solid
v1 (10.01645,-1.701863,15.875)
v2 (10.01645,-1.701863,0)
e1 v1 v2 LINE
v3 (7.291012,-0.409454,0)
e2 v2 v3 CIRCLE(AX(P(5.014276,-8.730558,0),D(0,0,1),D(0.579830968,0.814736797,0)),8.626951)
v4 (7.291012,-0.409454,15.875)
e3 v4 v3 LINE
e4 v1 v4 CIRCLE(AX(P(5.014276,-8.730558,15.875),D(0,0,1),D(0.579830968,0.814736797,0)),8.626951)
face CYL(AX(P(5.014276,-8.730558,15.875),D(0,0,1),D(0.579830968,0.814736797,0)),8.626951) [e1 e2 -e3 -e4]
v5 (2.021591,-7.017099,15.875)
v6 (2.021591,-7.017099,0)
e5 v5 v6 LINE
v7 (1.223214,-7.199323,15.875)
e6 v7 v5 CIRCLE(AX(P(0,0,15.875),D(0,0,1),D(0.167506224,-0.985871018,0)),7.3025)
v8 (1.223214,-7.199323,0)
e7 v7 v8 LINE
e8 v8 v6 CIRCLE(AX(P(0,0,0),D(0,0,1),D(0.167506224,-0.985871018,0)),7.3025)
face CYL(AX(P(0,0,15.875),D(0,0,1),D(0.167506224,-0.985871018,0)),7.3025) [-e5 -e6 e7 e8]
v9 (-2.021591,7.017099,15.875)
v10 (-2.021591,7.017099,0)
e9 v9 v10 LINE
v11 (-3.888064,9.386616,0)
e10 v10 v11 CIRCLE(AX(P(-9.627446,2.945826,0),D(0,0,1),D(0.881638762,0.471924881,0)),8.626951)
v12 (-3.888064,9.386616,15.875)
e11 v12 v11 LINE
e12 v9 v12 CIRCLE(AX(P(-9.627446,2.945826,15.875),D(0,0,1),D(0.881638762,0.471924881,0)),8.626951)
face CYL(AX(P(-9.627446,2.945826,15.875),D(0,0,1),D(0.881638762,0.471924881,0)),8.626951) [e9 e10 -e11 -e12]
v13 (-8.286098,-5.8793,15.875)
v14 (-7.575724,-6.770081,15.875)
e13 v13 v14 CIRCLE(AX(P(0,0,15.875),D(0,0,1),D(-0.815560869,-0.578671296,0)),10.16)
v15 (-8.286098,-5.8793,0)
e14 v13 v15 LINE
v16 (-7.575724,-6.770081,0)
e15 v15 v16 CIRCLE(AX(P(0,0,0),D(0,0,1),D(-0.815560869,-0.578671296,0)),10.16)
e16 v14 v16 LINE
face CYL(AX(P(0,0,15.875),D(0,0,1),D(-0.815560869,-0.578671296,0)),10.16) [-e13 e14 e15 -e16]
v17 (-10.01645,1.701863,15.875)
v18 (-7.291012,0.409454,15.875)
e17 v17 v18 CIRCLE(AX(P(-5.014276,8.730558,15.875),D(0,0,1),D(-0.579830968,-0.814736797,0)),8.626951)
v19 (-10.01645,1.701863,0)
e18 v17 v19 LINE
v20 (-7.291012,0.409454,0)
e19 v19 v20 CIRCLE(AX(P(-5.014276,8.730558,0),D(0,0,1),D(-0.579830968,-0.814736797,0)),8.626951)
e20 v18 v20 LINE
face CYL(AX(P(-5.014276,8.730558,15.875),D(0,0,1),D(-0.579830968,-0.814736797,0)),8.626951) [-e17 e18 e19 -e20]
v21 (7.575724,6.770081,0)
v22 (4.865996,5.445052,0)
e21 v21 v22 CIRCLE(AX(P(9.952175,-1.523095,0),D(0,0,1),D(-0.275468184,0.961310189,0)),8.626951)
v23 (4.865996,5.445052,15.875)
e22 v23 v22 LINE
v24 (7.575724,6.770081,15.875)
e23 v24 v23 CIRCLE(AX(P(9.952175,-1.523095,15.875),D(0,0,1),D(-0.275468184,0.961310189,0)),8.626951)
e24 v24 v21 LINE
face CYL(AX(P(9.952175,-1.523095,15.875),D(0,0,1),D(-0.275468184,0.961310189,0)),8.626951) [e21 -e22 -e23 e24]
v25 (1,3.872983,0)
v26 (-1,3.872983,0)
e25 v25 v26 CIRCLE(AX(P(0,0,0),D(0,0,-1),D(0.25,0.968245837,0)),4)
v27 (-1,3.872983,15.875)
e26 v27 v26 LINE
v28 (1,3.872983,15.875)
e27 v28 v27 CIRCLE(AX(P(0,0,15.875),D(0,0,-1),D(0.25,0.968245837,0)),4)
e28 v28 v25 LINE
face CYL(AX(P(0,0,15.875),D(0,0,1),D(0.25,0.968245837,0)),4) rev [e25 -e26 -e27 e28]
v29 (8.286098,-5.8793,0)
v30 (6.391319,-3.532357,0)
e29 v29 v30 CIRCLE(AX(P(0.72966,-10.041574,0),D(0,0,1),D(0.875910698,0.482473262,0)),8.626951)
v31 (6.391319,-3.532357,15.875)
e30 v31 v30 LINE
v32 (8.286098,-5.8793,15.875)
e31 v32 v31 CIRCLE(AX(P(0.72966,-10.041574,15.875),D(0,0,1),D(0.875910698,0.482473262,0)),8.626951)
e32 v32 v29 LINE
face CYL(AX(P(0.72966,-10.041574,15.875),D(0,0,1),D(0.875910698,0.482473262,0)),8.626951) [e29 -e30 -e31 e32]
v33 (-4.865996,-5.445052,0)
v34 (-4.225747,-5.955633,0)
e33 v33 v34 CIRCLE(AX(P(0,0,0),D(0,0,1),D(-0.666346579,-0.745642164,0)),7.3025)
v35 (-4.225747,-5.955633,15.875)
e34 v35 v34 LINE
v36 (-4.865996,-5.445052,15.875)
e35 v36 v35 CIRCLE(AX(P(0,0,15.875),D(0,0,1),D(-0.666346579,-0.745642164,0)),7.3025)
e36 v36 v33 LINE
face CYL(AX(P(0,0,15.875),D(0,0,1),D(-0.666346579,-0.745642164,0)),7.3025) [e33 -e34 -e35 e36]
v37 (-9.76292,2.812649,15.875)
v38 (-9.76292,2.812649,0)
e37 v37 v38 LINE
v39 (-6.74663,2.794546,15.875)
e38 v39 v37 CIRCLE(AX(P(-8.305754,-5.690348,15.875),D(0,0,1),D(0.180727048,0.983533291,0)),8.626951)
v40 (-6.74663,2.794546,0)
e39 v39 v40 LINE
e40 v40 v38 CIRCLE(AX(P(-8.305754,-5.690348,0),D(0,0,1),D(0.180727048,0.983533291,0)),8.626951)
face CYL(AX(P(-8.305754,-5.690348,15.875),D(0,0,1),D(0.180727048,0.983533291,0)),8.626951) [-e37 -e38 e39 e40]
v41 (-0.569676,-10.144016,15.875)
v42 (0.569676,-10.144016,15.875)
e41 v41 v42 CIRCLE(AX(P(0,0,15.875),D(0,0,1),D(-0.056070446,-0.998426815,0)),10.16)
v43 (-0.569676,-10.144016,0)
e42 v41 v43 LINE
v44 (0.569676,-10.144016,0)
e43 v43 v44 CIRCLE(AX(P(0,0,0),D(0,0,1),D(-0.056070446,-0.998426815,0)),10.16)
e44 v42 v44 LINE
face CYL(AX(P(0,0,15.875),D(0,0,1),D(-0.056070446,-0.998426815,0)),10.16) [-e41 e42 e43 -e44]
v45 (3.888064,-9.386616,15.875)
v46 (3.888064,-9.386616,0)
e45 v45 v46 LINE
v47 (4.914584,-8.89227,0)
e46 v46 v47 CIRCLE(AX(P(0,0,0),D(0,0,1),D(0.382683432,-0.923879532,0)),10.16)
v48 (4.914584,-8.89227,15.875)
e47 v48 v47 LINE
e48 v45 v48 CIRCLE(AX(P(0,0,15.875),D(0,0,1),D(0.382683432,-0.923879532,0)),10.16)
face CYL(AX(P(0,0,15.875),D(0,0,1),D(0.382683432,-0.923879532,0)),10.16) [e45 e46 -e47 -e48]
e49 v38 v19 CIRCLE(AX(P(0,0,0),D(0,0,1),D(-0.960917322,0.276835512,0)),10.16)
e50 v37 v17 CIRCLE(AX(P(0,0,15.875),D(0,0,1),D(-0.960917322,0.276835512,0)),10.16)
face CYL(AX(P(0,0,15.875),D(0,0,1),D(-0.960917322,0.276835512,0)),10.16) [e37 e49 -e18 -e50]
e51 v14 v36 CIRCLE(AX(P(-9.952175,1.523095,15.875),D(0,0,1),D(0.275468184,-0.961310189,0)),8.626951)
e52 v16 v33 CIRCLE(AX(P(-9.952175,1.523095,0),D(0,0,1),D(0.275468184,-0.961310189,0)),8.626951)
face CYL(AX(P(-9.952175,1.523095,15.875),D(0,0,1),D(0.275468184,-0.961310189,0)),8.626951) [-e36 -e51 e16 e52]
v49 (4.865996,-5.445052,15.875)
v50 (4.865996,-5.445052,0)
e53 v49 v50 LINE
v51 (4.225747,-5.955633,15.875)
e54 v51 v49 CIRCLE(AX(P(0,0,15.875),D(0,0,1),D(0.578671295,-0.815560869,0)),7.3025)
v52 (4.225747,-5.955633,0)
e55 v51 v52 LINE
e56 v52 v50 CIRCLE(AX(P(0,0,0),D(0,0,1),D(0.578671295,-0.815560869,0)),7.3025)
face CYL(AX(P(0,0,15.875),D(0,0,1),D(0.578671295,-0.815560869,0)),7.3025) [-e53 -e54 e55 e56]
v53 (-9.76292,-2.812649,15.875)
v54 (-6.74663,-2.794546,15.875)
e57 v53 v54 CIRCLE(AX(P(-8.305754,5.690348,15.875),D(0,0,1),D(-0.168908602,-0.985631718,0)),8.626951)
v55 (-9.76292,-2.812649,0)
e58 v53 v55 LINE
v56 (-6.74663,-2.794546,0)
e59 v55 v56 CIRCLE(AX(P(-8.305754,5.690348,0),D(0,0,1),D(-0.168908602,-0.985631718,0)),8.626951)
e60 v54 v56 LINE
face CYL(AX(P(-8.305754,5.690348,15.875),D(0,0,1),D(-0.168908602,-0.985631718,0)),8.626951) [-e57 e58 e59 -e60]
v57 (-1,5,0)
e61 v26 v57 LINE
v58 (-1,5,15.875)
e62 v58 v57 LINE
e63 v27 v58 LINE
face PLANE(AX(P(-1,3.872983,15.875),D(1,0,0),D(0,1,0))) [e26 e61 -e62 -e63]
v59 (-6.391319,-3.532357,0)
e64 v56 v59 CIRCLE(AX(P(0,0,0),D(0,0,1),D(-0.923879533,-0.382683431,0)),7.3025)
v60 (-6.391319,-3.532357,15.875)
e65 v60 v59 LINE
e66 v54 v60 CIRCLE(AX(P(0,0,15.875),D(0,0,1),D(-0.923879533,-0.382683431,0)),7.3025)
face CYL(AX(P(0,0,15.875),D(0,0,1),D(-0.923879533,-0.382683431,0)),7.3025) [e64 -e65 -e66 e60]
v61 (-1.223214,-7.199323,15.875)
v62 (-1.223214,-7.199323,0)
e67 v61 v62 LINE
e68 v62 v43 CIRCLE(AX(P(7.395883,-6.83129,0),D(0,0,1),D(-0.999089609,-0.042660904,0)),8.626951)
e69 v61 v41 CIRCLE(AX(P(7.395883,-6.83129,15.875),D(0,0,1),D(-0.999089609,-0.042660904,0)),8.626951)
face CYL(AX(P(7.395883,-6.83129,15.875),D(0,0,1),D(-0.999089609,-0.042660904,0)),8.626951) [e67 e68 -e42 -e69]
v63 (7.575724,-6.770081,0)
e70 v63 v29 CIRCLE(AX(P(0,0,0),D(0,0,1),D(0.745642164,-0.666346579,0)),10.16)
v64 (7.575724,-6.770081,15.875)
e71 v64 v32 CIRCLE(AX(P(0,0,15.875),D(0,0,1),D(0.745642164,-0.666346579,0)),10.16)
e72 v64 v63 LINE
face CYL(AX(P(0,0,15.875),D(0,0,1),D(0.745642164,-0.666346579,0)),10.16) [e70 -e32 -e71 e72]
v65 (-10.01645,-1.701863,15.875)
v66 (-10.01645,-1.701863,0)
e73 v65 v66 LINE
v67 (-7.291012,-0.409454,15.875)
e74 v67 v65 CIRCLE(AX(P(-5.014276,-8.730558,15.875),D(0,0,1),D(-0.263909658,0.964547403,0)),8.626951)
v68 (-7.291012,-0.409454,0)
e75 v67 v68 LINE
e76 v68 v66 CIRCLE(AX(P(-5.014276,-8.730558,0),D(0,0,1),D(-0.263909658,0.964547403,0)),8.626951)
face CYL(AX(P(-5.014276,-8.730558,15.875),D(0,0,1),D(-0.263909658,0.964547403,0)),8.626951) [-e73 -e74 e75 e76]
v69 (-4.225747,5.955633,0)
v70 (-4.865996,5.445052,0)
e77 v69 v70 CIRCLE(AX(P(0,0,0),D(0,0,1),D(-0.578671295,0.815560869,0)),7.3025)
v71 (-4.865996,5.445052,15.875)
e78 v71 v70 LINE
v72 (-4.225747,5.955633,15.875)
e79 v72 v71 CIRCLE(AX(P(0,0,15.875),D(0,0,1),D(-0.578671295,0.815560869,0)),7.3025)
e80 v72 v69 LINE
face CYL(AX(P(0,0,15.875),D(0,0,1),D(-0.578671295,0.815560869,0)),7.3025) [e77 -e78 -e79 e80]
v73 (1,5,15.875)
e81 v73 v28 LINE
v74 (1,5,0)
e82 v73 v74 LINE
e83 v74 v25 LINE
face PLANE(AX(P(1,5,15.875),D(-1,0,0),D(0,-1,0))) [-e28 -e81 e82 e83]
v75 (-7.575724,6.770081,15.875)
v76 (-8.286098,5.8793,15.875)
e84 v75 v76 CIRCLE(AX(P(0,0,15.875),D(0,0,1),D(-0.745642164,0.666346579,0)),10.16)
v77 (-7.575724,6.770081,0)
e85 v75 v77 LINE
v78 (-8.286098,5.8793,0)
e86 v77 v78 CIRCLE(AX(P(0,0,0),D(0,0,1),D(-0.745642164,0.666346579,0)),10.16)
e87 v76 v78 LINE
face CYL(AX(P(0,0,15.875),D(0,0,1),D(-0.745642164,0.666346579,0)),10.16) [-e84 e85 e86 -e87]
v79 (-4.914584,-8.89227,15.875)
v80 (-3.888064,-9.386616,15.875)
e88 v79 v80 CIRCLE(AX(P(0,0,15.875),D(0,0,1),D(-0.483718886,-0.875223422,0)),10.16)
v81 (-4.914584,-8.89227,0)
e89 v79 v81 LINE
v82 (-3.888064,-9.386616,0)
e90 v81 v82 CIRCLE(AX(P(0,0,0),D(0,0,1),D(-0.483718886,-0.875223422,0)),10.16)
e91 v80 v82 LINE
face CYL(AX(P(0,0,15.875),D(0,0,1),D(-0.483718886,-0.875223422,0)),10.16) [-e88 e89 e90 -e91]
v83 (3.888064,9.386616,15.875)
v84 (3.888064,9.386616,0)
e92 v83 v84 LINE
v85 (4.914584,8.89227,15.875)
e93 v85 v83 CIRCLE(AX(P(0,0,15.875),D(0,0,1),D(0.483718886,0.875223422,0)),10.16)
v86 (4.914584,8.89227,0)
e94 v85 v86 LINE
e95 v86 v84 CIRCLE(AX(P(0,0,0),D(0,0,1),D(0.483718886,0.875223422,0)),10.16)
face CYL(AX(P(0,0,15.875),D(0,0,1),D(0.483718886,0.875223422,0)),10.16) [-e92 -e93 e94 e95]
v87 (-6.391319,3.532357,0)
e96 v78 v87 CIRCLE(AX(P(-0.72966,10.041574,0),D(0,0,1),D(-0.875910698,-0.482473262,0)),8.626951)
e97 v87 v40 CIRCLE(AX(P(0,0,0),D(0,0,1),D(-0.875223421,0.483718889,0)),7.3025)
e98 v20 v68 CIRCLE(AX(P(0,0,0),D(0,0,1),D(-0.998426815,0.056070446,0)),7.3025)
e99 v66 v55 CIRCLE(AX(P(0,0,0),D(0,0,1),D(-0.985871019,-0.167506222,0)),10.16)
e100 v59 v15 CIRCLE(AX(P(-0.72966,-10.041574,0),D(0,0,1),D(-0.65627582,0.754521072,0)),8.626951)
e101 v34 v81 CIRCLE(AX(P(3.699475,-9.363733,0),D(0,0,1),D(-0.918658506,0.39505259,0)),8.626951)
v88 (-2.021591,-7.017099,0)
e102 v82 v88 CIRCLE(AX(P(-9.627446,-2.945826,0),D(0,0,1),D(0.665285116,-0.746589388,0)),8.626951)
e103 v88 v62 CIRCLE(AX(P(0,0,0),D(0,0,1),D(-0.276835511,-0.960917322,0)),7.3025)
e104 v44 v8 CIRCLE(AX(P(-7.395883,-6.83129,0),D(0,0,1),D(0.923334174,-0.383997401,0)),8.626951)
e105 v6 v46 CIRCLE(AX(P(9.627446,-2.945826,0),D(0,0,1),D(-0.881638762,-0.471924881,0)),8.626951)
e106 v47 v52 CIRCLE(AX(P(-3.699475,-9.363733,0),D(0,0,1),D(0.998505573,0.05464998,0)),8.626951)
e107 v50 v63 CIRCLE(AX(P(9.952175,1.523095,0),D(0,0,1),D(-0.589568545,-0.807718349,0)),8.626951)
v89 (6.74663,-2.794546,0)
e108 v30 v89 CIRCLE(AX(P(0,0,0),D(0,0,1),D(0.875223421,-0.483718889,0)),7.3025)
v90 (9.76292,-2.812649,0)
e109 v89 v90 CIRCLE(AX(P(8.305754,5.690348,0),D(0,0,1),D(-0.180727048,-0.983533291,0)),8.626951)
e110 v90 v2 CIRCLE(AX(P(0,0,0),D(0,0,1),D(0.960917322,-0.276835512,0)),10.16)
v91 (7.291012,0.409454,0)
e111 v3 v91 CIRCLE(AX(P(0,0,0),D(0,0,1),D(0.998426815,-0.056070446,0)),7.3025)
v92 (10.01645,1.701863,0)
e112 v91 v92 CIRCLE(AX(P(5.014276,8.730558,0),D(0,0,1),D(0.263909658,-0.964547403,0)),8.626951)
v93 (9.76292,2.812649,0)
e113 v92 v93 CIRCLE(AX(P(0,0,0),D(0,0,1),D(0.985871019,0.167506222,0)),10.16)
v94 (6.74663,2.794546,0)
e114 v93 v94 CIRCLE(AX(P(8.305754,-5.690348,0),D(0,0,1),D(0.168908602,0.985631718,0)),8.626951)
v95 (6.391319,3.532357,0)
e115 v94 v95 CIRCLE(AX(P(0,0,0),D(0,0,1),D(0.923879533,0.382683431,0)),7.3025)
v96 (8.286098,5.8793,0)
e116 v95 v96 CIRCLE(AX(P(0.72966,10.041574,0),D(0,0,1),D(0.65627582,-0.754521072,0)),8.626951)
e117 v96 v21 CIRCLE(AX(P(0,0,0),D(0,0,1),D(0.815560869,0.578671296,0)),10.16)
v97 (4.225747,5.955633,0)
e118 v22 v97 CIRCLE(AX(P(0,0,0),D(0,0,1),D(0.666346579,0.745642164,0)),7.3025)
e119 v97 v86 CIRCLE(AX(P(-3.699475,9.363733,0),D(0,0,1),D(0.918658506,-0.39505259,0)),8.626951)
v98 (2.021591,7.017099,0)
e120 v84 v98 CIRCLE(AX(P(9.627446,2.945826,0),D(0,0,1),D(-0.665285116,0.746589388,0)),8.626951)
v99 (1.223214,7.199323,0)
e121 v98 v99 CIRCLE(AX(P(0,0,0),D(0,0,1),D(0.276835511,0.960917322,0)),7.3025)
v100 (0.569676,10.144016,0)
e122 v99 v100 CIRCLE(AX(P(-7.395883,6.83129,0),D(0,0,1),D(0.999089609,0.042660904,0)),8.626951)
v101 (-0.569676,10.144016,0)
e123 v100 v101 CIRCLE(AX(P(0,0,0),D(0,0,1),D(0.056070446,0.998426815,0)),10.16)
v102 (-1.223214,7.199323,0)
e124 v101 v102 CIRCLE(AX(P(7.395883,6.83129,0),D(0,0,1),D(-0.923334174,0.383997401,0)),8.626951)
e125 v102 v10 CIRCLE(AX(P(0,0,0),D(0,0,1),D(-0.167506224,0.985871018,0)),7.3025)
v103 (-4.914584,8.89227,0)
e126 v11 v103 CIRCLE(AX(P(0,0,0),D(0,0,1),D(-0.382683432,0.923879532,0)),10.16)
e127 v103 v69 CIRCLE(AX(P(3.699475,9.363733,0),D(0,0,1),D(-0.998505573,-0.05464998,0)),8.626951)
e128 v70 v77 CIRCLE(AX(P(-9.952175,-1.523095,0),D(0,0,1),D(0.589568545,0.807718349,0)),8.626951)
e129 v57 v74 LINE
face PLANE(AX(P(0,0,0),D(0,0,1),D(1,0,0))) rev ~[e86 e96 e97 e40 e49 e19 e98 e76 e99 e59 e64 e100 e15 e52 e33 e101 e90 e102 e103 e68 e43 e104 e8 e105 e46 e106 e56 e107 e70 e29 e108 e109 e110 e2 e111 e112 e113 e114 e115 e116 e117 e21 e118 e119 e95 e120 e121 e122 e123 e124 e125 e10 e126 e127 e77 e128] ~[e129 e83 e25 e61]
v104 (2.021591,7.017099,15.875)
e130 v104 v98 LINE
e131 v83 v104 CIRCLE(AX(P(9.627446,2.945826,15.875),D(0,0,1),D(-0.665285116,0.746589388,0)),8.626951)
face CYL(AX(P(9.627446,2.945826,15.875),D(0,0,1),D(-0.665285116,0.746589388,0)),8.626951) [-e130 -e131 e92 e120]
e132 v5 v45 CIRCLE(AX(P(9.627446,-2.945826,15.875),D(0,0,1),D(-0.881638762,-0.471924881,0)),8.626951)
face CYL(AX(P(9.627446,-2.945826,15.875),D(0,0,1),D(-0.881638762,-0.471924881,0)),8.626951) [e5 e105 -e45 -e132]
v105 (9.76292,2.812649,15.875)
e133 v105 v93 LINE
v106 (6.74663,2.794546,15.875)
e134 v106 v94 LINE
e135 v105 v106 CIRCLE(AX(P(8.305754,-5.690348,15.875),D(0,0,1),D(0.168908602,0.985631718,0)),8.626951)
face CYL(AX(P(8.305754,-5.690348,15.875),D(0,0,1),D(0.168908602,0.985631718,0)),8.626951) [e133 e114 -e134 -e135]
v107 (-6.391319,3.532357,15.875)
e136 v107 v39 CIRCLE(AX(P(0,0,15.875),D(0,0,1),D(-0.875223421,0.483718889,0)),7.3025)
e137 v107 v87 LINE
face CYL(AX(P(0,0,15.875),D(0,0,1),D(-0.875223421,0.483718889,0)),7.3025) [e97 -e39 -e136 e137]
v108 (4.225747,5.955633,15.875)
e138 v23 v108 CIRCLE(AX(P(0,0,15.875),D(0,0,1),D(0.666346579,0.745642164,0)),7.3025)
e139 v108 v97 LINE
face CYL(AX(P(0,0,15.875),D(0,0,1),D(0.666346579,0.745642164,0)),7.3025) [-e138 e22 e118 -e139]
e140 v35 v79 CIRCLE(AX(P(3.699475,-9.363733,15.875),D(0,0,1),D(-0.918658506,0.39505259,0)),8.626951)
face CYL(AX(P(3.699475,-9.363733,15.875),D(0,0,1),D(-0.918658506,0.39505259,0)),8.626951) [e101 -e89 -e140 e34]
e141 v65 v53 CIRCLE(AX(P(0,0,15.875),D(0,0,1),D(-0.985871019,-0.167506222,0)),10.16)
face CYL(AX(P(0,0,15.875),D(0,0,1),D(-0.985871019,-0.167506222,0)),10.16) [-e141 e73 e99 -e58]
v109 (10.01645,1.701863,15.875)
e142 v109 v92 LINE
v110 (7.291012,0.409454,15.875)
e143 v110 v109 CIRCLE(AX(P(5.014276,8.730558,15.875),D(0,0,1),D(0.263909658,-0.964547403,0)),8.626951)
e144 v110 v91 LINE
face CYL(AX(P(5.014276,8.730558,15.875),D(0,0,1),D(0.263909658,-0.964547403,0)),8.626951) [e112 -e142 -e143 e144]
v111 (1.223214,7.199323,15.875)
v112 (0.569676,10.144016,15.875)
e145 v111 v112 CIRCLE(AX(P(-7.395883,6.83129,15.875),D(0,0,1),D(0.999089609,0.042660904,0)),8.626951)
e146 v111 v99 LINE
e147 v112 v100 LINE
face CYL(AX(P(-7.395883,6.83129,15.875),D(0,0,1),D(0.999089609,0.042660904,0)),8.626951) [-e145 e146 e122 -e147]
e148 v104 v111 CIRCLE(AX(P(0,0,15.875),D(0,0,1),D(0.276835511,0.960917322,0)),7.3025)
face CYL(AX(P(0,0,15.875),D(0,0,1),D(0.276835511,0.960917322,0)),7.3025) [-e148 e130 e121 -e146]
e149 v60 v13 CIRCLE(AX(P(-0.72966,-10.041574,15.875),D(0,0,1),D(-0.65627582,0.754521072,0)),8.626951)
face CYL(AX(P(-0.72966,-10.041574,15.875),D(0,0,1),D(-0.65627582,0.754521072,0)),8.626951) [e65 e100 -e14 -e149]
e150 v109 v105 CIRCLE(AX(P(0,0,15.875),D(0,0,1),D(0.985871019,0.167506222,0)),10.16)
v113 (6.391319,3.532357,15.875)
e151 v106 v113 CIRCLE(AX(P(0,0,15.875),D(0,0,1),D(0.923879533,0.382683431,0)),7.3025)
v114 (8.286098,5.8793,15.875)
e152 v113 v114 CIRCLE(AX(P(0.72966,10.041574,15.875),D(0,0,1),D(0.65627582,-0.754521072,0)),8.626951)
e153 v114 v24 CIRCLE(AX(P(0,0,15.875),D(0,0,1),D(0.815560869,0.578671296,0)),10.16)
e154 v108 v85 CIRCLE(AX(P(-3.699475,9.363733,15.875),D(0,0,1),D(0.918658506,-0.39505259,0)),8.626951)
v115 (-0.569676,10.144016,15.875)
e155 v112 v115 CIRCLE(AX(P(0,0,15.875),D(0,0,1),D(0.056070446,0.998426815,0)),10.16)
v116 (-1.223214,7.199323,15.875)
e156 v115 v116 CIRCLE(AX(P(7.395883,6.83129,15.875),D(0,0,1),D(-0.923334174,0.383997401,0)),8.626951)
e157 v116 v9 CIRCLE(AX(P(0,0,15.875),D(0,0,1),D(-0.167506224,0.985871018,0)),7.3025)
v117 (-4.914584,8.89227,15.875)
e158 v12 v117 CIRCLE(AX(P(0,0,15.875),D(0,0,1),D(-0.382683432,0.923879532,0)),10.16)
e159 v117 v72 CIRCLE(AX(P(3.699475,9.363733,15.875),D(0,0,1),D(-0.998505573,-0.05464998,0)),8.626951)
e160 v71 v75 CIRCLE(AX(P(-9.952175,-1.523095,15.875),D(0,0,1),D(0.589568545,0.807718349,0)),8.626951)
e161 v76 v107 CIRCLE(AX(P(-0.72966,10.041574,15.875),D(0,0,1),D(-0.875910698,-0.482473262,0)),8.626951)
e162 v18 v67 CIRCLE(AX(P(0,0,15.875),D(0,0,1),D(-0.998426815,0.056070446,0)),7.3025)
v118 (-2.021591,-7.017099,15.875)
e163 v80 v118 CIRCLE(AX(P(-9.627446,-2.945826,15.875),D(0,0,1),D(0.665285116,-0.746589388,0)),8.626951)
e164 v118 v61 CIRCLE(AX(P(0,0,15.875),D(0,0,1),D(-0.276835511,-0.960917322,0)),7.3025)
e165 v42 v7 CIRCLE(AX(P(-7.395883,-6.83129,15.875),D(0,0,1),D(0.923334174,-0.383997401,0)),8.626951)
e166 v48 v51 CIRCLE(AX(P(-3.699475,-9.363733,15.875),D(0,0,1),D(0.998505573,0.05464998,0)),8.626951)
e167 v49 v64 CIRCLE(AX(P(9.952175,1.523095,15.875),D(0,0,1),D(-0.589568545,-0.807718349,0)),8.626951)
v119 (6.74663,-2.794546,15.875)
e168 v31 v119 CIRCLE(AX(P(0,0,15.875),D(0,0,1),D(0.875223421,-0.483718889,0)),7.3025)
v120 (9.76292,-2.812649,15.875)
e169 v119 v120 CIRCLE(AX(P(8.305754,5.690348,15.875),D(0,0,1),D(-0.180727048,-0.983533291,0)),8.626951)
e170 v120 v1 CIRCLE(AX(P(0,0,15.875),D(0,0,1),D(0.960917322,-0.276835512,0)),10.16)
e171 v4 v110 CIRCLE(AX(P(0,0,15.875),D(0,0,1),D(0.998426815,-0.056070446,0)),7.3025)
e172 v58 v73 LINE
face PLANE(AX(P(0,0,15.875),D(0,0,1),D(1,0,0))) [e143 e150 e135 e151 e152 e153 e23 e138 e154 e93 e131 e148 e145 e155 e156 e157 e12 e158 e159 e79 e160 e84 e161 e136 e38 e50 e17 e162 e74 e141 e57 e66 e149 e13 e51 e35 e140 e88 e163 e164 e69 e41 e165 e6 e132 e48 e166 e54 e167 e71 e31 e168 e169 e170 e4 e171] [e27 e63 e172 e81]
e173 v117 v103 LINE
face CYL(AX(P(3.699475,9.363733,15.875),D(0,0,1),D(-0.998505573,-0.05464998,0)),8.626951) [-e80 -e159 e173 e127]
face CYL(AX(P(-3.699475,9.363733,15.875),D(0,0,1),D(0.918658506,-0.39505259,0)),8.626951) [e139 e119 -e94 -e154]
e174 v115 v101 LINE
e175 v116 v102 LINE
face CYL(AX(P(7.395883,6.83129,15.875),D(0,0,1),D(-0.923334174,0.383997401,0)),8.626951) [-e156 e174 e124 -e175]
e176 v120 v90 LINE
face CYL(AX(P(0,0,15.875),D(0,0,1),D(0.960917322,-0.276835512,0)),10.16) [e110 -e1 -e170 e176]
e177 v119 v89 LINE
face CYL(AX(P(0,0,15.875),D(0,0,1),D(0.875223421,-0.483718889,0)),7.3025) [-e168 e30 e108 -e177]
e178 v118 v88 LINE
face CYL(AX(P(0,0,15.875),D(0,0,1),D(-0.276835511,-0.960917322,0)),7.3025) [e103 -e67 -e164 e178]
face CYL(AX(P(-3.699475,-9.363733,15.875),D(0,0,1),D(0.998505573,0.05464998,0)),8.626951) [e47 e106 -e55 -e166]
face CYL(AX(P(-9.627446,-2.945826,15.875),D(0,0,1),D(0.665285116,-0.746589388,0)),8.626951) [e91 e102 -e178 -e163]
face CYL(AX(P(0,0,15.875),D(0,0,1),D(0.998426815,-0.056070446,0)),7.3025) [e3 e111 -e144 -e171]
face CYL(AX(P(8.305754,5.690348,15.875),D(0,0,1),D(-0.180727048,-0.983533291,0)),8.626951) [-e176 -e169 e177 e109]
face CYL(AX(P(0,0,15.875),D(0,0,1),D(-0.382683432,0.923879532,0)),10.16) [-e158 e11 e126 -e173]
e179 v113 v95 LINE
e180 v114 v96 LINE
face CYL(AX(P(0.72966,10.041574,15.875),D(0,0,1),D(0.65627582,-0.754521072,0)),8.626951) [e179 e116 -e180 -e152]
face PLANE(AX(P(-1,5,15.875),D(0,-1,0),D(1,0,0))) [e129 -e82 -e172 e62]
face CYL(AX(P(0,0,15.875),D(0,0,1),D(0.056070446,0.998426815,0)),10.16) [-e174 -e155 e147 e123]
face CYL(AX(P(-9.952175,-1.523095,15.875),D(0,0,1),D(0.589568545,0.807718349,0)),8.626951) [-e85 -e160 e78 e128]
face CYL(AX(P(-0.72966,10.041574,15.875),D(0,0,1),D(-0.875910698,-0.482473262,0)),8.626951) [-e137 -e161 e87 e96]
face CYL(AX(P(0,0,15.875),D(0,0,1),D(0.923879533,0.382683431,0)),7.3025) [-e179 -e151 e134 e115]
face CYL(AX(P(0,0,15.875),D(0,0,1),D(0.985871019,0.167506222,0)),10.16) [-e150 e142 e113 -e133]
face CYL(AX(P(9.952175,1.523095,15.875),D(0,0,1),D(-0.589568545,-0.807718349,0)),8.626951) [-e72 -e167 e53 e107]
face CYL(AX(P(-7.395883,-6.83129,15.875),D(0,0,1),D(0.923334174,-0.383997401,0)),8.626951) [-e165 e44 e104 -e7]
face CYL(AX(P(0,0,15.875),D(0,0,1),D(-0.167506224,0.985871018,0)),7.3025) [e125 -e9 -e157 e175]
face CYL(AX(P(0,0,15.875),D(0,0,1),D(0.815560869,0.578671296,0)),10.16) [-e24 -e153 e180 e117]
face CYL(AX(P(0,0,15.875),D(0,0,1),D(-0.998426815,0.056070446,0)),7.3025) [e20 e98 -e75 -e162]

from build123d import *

# Parameters (mm, degrees)
BOSS_EXTRUDE1_DEPTH = 15.875


with BuildPart() as part:
    # Sketch1 → Boss-Extrude1 (new body)
    with BuildSketch(Plane.XY.offset(15.875)):
        with BuildLine():
            ThreePointArc((-3.888063673, 9.38661605), (-4.408258789, 9.153843698), (-4.914583893, 8.892269967))
            ThreePointArc((-4.914583893, 8.892269967), (-4.69950786, 7.393612219), (-4.22574714, 5.955633246))
            ThreePointArc((-4.22574714, 5.955633246), (-4.553034278, 5.709324401), (-4.865995885, 5.445051909))
            ThreePointArc((-4.865995885, 5.445051909), (-6.162500046, 6.226914882), (-7.575724395, 6.770081232))
            ThreePointArc((-7.575724395, 6.770081232), (-7.943407862, 6.334656387), (-8.286098429, 5.879300369))
            ThreePointArc((-8.286098429, 5.879300369), (-7.442078391, 4.622374388), (-6.391319038, 3.532357173))
            ThreePointArc((-6.391319038, 3.532357173), (-6.579325158, 3.168436005), (-6.746630286, 2.794545765))
            ThreePointArc((-6.746630286, 2.794545765), (-8.253977802, 2.93644789), (-9.762919991, 2.812648796))
            ThreePointArc((-9.762919991, 2.812648796), (-9.905267588, 2.260812689), (-10.016449548, 1.701863229))
            ThreePointArc((-10.016449548, 1.701863229), (-8.710654026, 0.93561862), (-7.291011817, 0.409454441))
            ThreePointArc((-7.291011817, 0.409454441), (-7.3025, 0), (-7.291011817, -0.409454441))
            ThreePointArc((-7.291011817, -0.409454441), (-8.710654026, -0.93561862), (-10.016449548, -1.701863229))
            ThreePointArc((-10.016449548, -1.701863229), (-9.905267588, -2.260812689), (-9.762919991, -2.812648796))
            ThreePointArc((-9.762919991, -2.812648796), (-8.253977802, -2.93644789), (-6.746630286, -2.794545765))
            ThreePointArc((-6.746630286, -2.794545765), (-6.579325158, -3.168436005), (-6.391319038, -3.532357173))
            ThreePointArc((-6.391319038, -3.532357173), (-7.442078391, -4.622374388), (-8.286098429, -5.879300369))
            ThreePointArc((-8.286098429, -5.879300369), (-7.943407862, -6.334656387), (-7.575724395, -6.770081232))
            ThreePointArc((-7.575724395, -6.770081232), (-6.162500046, -6.226914882), (-4.865995885, -5.445051909))
            ThreePointArc((-4.865995885, -5.445051909), (-4.553034278, -5.709324401), (-4.22574714, -5.955633246))
            ThreePointArc((-4.22574714, -5.955633246), (-4.69950786, -7.393612219), (-4.914583893, -8.892269967))
            ThreePointArc((-4.914583893, -8.892269967), (-4.408258789, -9.153843698), (-3.888063673, -9.38661605))
            ThreePointArc((-3.888063673, -9.38661605), (-2.850463577, -8.284065014), (-2.021591322, -7.017098744))
            ThreePointArc((-2.021591322, -7.017098744), (-1.62495912, -7.119411079), (-1.223214196, -7.199323113))
            ThreePointArc((-1.223214196, -7.199323113), (-1.026142161, -8.700454472), (-0.569675744, -10.144016441))
            ThreePointArc((-0.569675744, -10.144016441), (0, -10.16), (0.569675744, -10.144016441))
            ThreePointArc((0.569675744, -10.144016441), (1.026142161, -8.700454472), (1.223214196, -7.199323113))
            ThreePointArc((1.223214196, -7.199323113), (1.62495912, -7.119411079), (2.021591322, -7.017098744))
            ThreePointArc((2.021591322, -7.017098744), (2.850463577, -8.284065014), (3.888063673, -9.38661605))
            ThreePointArc((3.888063673, -9.38661605), (4.408258789, -9.153843698), (4.914583893, -8.892269967))
            ThreePointArc((4.914583893, -8.892269967), (4.69950786, -7.393612219), (4.22574714, -5.955633246))
            ThreePointArc((4.22574714, -5.955633246), (4.553034278, -5.709324401), (4.865995885, -5.445051909))
            ThreePointArc((4.865995885, -5.445051909), (6.162500046, -6.226914882), (7.575724395, -6.770081232))
            ThreePointArc((7.575724395, -6.770081232), (7.943407862, -6.334656387), (8.286098429, -5.879300369))
            ThreePointArc((8.286098429, -5.879300369), (7.442078391, -4.622374388), (6.391319038, -3.532357173))
            ThreePointArc((6.391319038, -3.532357173), (6.579325158, -3.168436005), (6.746630286, -2.794545765))
            ThreePointArc((6.746630286, -2.794545765), (8.253977802, -2.93644789), (9.762919991, -2.812648796))
            ThreePointArc((9.762919991, -2.812648796), (9.905267588, -2.260812689), (10.016449548, -1.701863229))
            ThreePointArc((10.016449548, -1.701863229), (8.710654026, -0.93561862), (7.291011817, -0.409454441))
            ThreePointArc((7.291011817, -0.409454441), (7.3025, 0), (7.291011817, 0.409454441))
            ThreePointArc((7.291011817, 0.409454441), (8.710654026, 0.93561862), (10.016449548, 1.701863229))
            ThreePointArc((10.016449548, 1.701863229), (9.905267588, 2.260812689), (9.762919991, 2.812648796))
            ThreePointArc((9.762919991, 2.812648796), (8.253977802, 2.93644789), (6.746630286, 2.794545765))
            ThreePointArc((6.746630286, 2.794545765), (6.579325158, 3.168436005), (6.391319038, 3.532357173))
            ThreePointArc((6.391319038, 3.532357173), (7.442078391, 4.622374388), (8.286098429, 5.879300369))
            ThreePointArc((8.286098429, 5.879300369), (7.943407862, 6.334656387), (7.575724395, 6.770081232))
            ThreePointArc((7.575724395, 6.770081232), (6.162500046, 6.226914882), (4.865995885, 5.445051909))
            ThreePointArc((4.865995885, 5.445051909), (4.553034278, 5.709324401), (4.22574714, 5.955633246))
            ThreePointArc((4.22574714, 5.955633246), (4.69950786, 7.393612219), (4.914583893, 8.892269967))
            ThreePointArc((4.914583893, 8.892269967), (4.408258789, 9.153843698), (3.888063673, 9.38661605))
            ThreePointArc((3.888063673, 9.38661605), (2.850463577, 8.284065014), (2.021591322, 7.017098744))
            ThreePointArc((2.021591322, 7.017098744), (1.62495912, 7.119411079), (1.223214196, 7.199323113))
            ThreePointArc((1.223214196, 7.199323113), (1.026142161, 8.700454472), (0.569675744, 10.144016441))
            ThreePointArc((0.569675744, 10.144016441), (0, 10.16), (-0.569675744, 10.144016441))
            ThreePointArc((-0.569675744, 10.144016441), (-1.026142161, 8.700454472), (-1.223214196, 7.199323113))
            ThreePointArc((-1.223214196, 7.199323113), (-1.62495912, 7.119411079), (-2.021591322, 7.017098744))
            ThreePointArc((-2.021591322, 7.017098744), (-2.850463577, 8.284065014), (-3.888063673, 9.38661605))
        make_face()
        with BuildLine():
            Line((1, 5), (1, 3.872983346))
            ThreePointArc((1, 3.872983346), (0, -4), (-1, 3.872983346))
            Line((-1, 3.872983346), (-1, 5))
            Line((-1, 5), (1, 5))
        make_face(mode=Mode.SUBTRACT)
    extrude(amount=-BOSS_EXTRUDE1_DEPTH)


solid = part.part
